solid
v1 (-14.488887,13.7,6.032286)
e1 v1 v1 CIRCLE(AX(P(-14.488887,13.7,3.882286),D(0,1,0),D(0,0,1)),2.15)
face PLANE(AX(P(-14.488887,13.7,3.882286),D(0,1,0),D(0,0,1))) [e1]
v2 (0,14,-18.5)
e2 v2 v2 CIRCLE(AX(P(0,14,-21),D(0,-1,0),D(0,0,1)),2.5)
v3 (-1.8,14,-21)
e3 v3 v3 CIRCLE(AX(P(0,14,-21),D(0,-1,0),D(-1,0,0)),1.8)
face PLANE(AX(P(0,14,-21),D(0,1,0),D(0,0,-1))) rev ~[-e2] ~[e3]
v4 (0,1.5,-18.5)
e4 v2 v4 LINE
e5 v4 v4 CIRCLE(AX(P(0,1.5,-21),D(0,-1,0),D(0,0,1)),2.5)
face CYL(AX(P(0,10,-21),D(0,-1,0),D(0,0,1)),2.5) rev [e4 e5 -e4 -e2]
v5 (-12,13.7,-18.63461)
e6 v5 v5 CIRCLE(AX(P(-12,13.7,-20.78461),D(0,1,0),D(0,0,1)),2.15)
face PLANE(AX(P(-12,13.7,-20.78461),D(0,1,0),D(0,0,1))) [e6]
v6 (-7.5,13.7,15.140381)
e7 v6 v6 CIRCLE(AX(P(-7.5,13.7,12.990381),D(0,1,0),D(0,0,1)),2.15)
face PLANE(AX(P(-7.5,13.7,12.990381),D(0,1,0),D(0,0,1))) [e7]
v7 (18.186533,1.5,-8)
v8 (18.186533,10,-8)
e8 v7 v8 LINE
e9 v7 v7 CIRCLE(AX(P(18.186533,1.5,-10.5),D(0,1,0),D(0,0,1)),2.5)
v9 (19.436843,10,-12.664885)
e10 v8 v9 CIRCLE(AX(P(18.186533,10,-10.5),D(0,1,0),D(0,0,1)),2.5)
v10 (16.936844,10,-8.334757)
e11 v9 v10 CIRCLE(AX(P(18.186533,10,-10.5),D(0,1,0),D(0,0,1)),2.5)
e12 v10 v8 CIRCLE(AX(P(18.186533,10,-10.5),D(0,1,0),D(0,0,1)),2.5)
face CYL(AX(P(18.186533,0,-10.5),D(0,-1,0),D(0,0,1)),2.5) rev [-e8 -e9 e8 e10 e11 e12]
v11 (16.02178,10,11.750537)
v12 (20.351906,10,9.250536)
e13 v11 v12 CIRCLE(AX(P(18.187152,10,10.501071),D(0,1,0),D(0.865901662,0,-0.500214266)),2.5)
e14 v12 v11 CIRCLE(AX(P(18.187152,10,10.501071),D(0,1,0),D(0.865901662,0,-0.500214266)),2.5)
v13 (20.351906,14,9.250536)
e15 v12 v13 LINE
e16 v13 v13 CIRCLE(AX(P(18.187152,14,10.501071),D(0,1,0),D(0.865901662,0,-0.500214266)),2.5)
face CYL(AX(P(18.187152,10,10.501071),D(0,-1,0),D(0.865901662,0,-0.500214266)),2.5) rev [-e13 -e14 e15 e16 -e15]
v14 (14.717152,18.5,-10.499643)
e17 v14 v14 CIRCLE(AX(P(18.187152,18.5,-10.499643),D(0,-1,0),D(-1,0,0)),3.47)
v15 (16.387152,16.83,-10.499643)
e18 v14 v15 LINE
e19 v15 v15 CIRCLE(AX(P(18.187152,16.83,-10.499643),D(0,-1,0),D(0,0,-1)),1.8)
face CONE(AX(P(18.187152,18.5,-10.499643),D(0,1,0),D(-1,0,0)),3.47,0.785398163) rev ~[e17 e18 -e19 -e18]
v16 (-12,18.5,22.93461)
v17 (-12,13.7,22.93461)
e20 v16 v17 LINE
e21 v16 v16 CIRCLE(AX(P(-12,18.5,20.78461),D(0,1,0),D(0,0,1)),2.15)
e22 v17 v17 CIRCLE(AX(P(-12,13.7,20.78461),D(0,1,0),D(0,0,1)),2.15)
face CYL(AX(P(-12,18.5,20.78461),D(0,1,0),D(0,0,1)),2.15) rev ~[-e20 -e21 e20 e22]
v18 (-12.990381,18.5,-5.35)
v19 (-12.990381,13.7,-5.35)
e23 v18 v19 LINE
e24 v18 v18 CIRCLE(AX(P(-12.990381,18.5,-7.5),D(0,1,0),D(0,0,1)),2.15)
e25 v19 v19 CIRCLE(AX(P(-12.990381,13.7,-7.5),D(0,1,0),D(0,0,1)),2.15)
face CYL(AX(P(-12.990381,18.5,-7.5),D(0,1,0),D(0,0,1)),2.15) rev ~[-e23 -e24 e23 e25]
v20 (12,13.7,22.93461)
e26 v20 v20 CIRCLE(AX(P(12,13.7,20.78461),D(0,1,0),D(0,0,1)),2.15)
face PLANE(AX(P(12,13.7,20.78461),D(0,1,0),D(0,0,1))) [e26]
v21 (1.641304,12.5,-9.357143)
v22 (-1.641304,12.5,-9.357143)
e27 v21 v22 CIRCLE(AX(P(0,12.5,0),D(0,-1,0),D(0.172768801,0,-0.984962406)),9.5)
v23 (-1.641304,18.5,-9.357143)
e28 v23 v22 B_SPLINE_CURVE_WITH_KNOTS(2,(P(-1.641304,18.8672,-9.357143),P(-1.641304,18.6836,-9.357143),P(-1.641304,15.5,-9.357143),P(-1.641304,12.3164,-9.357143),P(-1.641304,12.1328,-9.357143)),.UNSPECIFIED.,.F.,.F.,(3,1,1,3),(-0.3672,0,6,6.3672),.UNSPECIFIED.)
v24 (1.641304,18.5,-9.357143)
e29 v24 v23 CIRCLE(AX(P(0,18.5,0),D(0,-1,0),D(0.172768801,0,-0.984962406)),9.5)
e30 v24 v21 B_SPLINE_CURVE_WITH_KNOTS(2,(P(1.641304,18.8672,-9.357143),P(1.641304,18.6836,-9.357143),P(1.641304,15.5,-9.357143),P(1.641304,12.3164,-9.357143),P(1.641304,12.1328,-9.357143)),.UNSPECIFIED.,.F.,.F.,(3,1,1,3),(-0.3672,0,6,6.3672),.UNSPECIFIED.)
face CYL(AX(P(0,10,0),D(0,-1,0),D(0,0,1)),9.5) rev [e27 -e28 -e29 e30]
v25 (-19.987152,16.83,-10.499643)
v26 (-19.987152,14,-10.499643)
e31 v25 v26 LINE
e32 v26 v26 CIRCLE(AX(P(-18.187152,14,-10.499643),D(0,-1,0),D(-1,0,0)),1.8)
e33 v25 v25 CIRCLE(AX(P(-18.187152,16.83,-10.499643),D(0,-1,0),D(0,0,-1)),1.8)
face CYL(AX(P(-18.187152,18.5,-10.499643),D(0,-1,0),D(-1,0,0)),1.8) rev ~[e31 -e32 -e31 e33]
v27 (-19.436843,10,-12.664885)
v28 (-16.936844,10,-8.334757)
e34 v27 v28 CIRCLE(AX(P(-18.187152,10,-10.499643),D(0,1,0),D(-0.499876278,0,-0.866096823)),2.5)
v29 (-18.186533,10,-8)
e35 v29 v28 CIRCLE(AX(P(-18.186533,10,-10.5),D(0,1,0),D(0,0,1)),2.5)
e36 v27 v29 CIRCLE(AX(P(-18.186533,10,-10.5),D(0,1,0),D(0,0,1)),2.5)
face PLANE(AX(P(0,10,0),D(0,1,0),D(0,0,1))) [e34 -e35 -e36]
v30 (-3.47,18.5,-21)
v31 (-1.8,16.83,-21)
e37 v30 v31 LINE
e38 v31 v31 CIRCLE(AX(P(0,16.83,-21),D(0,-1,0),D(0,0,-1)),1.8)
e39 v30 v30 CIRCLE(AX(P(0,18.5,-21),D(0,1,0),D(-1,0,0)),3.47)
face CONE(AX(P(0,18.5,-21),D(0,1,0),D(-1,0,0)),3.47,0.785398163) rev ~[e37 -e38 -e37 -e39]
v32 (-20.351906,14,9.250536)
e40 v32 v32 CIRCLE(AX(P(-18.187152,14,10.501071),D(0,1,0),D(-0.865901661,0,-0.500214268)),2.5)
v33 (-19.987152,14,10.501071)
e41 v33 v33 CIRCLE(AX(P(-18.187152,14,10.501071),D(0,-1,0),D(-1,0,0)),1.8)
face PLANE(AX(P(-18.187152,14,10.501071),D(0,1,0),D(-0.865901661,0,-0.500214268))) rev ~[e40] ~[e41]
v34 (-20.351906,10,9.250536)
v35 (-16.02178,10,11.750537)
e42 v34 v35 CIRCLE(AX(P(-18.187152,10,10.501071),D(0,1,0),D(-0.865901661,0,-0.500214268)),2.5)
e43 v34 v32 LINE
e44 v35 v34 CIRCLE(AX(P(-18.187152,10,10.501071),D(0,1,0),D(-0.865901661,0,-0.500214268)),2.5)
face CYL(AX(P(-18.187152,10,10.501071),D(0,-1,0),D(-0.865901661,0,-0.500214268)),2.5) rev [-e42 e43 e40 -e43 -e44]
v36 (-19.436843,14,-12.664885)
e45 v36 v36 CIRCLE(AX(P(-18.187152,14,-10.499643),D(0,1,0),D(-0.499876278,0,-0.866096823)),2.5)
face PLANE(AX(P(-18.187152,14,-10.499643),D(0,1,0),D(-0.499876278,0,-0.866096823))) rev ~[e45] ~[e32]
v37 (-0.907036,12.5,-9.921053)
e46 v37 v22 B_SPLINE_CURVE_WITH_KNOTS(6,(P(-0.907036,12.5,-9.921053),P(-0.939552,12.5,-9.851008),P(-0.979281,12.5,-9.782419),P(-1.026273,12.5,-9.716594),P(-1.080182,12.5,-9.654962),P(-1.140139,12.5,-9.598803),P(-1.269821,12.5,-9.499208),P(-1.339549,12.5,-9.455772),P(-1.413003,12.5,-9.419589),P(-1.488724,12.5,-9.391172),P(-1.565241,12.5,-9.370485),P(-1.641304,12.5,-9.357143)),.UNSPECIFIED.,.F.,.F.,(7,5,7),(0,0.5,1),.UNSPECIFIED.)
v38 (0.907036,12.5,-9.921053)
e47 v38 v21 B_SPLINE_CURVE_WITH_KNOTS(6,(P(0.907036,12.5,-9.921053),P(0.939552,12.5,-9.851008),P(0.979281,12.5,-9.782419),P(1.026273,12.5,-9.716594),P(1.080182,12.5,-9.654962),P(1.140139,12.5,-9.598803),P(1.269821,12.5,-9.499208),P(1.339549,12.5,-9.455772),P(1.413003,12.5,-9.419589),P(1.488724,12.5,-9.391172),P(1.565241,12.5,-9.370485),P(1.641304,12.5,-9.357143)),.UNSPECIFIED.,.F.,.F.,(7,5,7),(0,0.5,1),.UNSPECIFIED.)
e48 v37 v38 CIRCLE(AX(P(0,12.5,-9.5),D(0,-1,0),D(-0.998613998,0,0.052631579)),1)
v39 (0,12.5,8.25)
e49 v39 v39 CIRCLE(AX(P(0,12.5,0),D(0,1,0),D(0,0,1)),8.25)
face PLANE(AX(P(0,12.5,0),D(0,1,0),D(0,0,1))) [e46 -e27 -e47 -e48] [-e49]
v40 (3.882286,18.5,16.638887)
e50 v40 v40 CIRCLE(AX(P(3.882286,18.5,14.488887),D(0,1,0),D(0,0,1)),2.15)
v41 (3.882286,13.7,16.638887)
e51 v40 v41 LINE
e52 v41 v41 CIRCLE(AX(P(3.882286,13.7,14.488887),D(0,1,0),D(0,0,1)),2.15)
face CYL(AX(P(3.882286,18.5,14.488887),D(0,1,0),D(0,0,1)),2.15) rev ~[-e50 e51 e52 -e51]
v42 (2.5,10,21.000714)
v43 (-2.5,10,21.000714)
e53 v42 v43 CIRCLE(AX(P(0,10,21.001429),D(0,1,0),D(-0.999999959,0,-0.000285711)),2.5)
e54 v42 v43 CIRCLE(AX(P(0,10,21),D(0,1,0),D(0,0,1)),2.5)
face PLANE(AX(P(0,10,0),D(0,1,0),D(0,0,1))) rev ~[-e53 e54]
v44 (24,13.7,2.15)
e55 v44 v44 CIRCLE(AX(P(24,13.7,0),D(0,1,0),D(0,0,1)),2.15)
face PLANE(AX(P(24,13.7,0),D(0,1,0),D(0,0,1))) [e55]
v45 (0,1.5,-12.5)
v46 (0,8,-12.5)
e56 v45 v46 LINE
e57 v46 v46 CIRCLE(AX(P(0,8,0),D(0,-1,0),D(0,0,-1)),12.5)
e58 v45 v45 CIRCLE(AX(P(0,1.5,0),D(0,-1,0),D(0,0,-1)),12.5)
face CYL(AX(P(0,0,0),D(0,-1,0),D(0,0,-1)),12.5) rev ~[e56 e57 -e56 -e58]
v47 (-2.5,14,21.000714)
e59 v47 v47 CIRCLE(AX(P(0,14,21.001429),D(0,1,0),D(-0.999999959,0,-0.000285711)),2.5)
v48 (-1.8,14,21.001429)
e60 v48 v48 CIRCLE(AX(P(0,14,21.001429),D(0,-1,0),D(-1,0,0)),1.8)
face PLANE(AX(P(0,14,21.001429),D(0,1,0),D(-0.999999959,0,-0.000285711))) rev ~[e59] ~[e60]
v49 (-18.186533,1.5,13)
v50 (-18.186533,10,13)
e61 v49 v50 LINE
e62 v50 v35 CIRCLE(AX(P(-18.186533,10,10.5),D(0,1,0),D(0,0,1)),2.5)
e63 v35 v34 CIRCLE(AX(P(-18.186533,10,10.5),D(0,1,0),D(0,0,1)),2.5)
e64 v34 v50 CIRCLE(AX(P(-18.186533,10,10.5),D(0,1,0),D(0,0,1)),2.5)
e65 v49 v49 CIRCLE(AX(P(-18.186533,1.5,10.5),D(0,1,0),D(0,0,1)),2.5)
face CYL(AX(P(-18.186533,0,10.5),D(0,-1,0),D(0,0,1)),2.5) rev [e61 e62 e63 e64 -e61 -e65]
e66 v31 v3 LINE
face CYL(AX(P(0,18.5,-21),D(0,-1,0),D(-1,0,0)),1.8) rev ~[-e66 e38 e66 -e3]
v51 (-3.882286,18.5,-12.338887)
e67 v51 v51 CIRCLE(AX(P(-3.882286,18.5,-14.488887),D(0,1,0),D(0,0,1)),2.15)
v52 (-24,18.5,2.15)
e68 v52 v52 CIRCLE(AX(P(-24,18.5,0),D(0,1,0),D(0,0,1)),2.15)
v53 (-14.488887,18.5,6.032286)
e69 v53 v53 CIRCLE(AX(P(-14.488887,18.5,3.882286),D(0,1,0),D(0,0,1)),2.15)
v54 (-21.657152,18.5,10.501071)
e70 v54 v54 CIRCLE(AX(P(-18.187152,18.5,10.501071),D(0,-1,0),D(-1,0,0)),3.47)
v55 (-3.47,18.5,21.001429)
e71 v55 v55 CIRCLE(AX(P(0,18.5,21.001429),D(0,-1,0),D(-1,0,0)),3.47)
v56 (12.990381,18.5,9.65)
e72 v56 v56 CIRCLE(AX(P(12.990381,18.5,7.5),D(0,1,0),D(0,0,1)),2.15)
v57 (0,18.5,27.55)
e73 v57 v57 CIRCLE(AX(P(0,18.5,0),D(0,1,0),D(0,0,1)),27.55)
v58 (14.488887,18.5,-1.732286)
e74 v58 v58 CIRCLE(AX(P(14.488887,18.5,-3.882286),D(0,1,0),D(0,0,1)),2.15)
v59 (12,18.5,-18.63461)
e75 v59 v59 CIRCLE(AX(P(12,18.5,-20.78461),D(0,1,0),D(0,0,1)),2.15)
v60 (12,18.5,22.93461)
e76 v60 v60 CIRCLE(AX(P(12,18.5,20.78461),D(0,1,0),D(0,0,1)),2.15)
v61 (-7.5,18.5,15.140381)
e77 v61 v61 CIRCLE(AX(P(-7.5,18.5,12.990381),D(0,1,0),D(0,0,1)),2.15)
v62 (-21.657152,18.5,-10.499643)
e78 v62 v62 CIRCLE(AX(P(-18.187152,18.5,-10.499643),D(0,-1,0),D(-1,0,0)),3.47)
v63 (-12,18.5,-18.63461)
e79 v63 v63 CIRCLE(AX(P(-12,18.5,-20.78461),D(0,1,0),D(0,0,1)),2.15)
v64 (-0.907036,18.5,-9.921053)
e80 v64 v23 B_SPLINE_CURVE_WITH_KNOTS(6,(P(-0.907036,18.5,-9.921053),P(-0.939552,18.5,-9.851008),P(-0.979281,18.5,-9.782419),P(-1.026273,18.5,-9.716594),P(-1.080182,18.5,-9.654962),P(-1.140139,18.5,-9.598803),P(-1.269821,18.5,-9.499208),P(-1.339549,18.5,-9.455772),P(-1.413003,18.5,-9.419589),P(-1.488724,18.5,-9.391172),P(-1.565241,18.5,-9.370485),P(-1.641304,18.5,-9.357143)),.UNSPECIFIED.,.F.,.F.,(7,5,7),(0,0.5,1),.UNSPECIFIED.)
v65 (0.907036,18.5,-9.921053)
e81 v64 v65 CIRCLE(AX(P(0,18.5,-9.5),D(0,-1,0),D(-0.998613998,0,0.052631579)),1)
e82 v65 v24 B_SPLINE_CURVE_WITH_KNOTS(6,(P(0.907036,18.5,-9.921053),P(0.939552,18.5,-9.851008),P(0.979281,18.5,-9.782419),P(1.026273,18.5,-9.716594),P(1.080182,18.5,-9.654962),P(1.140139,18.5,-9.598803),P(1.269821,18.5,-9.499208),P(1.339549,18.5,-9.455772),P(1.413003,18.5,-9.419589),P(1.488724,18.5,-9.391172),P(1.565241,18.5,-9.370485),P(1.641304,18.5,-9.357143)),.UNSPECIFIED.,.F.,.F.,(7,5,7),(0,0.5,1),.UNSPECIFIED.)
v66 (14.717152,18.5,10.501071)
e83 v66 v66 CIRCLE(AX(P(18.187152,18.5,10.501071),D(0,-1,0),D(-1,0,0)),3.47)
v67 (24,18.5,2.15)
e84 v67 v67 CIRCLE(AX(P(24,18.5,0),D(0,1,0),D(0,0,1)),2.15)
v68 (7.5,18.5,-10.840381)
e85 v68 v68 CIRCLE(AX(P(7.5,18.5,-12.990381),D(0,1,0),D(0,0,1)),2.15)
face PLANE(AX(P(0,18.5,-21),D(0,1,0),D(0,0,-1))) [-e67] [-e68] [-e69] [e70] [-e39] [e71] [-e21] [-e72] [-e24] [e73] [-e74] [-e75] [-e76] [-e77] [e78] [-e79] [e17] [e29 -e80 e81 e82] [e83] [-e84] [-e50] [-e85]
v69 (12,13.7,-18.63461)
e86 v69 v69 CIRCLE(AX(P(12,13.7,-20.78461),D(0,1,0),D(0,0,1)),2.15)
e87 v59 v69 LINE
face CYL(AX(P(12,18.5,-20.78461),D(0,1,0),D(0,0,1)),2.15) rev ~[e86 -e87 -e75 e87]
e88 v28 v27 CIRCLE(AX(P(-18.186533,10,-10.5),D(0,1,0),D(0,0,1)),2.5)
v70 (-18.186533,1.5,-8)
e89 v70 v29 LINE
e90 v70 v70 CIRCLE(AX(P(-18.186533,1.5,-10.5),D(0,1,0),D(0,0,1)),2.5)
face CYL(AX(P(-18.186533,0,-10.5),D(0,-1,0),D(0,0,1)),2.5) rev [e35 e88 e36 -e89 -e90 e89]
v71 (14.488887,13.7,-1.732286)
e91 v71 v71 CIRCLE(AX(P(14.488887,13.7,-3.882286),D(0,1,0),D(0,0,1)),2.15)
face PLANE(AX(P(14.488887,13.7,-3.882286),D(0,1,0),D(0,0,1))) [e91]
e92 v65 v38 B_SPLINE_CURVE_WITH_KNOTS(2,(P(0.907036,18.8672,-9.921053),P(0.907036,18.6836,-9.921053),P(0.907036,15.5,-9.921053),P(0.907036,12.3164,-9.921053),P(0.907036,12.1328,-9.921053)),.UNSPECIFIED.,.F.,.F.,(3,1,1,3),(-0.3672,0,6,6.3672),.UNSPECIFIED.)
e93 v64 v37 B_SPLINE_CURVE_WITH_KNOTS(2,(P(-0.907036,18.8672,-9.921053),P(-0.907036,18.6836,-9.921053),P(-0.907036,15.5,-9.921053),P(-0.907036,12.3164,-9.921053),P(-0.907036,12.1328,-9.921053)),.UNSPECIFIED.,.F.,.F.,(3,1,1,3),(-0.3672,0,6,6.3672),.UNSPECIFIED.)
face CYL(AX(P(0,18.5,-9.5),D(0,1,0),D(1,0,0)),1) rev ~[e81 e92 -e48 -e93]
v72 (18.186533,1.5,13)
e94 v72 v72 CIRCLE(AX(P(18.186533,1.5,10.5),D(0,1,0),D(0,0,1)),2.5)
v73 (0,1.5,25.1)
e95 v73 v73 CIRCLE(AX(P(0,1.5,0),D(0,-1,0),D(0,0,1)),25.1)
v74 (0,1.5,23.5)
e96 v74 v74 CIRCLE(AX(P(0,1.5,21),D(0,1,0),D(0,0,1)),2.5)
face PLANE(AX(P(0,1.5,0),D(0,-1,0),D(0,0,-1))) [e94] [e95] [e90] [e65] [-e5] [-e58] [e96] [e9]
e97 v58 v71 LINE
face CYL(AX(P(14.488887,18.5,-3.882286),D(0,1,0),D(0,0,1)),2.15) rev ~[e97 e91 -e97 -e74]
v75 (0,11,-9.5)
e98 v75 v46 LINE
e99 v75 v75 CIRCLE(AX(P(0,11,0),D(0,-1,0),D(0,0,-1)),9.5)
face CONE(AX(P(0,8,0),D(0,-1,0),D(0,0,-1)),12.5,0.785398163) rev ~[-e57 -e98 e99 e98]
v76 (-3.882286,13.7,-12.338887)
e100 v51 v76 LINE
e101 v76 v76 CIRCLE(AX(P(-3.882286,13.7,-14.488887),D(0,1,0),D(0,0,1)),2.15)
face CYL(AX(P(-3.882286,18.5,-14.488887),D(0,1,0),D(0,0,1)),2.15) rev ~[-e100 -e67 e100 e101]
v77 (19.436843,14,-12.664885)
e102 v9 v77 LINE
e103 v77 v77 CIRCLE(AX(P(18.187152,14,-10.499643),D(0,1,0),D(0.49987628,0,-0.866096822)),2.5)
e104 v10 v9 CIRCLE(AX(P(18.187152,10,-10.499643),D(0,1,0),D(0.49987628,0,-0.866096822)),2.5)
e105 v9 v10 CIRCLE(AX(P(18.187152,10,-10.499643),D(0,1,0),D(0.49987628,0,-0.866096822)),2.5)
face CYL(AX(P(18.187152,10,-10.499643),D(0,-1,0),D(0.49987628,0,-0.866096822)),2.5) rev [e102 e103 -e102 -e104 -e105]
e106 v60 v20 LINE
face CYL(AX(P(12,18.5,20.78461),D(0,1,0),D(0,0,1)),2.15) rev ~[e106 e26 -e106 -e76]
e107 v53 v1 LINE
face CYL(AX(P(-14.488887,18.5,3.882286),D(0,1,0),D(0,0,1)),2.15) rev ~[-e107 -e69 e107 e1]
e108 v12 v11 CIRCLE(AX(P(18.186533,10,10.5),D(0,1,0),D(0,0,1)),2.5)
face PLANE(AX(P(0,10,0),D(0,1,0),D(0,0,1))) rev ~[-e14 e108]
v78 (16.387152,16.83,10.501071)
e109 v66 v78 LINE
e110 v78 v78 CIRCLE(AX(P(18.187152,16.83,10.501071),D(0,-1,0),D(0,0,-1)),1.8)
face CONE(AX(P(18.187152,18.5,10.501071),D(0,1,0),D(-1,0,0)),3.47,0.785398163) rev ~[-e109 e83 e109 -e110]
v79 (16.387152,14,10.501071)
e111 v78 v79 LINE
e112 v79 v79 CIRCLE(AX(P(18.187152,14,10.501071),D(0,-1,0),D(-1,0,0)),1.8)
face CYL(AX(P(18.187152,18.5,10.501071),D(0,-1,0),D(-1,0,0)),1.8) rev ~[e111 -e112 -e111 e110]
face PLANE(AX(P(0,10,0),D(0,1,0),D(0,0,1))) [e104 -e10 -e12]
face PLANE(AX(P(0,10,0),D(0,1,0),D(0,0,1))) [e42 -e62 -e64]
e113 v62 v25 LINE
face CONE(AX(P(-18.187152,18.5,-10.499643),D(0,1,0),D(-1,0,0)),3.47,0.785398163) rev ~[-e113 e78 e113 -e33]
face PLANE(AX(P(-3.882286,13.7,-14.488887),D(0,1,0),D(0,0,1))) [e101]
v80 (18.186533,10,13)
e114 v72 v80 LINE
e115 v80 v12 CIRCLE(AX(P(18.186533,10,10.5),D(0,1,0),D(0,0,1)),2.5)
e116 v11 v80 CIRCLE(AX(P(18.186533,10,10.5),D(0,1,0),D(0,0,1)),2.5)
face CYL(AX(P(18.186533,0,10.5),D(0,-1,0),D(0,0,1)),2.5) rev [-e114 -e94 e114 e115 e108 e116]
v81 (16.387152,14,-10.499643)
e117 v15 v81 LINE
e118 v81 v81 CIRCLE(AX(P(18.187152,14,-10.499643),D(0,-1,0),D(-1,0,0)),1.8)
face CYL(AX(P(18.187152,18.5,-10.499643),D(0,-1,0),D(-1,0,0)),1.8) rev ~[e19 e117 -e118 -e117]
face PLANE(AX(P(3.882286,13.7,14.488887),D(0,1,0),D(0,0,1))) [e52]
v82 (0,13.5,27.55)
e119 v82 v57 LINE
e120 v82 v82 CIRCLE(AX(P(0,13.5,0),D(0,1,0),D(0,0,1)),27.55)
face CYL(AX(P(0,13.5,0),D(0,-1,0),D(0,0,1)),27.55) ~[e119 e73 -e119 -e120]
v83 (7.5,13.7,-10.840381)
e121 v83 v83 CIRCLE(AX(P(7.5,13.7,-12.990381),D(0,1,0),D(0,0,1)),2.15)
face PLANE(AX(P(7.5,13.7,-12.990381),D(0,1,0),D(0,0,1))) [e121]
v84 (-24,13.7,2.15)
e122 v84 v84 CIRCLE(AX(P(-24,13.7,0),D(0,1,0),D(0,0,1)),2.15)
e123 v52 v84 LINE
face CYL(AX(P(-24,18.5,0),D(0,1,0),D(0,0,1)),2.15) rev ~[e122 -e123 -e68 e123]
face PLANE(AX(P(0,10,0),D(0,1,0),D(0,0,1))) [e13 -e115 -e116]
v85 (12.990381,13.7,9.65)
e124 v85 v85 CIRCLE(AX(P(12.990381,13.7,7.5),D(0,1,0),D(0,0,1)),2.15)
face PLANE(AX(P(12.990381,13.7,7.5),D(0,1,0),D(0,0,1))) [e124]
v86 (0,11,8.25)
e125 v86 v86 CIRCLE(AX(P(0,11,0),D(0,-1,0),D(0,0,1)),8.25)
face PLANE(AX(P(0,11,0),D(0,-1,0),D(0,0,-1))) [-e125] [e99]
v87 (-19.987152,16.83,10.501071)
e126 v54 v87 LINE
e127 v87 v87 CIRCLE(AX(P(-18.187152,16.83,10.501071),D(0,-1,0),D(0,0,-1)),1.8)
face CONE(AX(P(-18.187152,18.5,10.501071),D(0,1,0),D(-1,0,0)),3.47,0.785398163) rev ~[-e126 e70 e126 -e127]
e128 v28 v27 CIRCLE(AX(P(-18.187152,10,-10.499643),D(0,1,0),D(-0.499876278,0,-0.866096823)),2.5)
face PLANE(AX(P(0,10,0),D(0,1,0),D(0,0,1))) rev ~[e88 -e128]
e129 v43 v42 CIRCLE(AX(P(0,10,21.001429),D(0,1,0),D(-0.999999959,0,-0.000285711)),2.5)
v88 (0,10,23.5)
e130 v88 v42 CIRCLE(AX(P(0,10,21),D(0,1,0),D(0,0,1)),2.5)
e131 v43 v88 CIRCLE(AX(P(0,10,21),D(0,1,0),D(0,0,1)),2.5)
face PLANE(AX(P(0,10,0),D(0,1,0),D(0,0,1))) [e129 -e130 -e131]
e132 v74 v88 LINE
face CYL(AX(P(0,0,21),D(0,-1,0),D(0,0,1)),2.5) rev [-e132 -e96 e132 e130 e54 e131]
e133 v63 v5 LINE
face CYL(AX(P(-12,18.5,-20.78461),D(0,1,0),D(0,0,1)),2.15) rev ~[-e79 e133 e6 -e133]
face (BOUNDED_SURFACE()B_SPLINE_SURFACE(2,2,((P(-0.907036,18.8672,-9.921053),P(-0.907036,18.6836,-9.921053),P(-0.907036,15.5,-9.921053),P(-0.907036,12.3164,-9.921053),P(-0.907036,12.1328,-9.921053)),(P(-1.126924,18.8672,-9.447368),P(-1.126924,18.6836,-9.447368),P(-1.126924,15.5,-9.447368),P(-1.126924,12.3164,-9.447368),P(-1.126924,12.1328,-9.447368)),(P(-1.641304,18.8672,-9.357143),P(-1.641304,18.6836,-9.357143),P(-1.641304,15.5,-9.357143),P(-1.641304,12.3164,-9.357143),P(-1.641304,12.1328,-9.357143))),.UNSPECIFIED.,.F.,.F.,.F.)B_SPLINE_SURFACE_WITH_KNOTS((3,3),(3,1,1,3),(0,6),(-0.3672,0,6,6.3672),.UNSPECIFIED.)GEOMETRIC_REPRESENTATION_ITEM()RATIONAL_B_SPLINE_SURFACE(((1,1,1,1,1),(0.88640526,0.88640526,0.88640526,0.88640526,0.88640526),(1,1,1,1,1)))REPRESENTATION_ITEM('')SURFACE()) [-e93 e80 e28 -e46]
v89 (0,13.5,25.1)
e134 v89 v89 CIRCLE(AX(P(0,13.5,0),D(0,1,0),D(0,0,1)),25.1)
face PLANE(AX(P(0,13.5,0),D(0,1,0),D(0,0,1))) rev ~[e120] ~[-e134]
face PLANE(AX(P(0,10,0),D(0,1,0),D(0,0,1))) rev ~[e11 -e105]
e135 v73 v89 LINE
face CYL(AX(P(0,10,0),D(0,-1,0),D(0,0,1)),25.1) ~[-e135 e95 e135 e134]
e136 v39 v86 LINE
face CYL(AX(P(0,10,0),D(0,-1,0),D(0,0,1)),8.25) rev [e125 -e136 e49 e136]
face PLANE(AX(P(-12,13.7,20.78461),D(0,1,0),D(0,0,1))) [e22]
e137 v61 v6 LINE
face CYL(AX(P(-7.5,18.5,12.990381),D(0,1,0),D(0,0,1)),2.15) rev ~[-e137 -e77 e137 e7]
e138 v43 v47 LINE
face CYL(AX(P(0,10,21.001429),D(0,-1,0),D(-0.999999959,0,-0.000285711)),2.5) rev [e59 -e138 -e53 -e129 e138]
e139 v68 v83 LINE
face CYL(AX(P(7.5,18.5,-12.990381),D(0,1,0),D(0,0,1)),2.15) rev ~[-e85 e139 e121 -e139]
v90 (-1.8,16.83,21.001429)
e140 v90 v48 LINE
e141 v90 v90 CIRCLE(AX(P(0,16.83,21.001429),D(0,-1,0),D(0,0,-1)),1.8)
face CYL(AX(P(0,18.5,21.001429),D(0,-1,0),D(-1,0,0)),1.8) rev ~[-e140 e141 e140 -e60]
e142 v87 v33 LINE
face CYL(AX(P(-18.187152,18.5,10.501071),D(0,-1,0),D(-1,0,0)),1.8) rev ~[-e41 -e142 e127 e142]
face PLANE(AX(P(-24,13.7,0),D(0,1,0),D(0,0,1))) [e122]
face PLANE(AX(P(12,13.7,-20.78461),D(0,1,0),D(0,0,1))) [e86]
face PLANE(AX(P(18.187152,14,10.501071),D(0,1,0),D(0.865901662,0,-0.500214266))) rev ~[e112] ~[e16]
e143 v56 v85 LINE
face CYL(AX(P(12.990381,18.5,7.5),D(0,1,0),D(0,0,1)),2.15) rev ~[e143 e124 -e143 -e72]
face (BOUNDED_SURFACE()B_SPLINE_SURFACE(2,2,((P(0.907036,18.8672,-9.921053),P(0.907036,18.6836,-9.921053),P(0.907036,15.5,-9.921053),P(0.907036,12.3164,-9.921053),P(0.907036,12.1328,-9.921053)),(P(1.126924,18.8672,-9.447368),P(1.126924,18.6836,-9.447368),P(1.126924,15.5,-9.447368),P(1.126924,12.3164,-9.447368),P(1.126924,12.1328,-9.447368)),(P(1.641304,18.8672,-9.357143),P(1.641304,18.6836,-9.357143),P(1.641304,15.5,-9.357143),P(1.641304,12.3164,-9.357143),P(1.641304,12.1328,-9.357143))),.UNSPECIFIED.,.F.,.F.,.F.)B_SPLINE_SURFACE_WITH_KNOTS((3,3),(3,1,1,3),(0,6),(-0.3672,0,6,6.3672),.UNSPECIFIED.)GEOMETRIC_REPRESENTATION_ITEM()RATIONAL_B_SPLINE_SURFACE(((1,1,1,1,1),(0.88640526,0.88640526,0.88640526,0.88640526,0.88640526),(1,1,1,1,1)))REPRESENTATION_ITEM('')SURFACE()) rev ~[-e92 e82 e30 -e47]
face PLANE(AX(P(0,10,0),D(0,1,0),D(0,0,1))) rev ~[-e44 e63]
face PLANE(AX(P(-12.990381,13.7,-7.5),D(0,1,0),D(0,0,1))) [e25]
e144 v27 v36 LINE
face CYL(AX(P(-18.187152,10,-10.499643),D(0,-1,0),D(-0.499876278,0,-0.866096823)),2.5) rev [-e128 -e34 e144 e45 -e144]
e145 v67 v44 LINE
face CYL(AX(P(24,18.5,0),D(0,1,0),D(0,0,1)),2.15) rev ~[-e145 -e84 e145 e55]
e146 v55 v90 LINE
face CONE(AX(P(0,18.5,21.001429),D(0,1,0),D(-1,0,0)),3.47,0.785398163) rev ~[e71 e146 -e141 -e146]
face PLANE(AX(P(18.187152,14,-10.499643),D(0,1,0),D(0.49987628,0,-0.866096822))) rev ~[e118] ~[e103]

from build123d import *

# Parameters (mm, degrees)
SKETCH1_R                                            = 25.1
SKETCH1_R_2                                          = 2.5
SKETCH1_R_3                                          = 8.25
BOSS_EXTRUDE1_DEPTH                                  = 10
SKETCH2_R                                            = 15.5
SKETCH2_R_2                                          = 9.5
BOSS_EXTRUDE2_DEPTH                                  = 8.5
SKETCH4_R                                            = 9.5
SKETCH4_R_2                                          = 8.25
BOSS_EXTRUDE3_DEPTH                                  = 2.5
SKETCH3_R                                            = 12.5
CUT_EXTRUDE1_DEPTH                                   = 11
CHAMFER1_SIZE                                        = 3
SKETCH5_R                                            = 25.1
SKETCH5_R_2                                          = 2.5
SKETCH5_R_3                                          = 15.5
BOSS_EXTRUDE4_DEPTH                                  = 8.5
BOSS_EXTRUDE5_START                                  = -5
SKETCH6_R                                            = 27.55
SKETCH6_R_2                                          = 25.1
BOSS_EXTRUDE5_DEPTH                                  = 5
SKETCH8_R                                            = 1
CUT_EXTRUDE2_DEPTH                                   = 6
FILLET1_R                                            = 1
SKETCH11_R                                           = 2.15
CUT_EXTRUDE3_DEPTH                                   = 4.8
SKETCH12_R                                           = 25.1
SKETCH12_R_2                                         = 2.5
SKETCH12_R_3                                         = 12.5
CUT_EXTRUDE4_DEPTH                                   = 1.5
BOSS_EXTRUDE8_START                                  = -4.5
SKETCH14_R                                           = 2.5
SKETCH14_R_2                                         = 1.5
BOSS_EXTRUDE8_DEPTH                                  = 4.5
CSK_FOR_M3_SOCKET_COUNTERSUNK_HEAD_SCREW_D           = 3.6
CSK_FOR_M3_SOCKET_COUNTERSUNK_HEAD_SCREW_CSINK_D     = 6.94
CSK_FOR_M3_SOCKET_COUNTERSUNK_HEAD_SCREW_CSINK_ANGLE = 90


with BuildPart() as part:
    # Sketch1 → Boss-Extrude1 (new body)
    with BuildSketch(Plane(origin=(0, 0, 0), x_dir=(1, 0, 0), z_dir=(0, 1, 0))):
        with Locations(Location((0, 0, 0), (0, 0, 270))):
            Circle(SKETCH1_R)
        with Locations(Location((0, 21, 0), (0, 0, 270))):
            Circle(SKETCH1_R_2, mode=Mode.SUBTRACT)
        with Locations(Location((18.186533479, 10.5, 0), (0, 0, 270))):
            Circle(SKETCH1_R_2, mode=Mode.SUBTRACT)
        with Locations(Location((18.186533479, -10.5, 0), (0, 0, 270))):
            Circle(SKETCH1_R_2, mode=Mode.SUBTRACT)
        with Locations(Location((0, -21, 0), (0, 0, 270))):
            Circle(SKETCH1_R_2, mode=Mode.SUBTRACT)
        with Locations(Location((-18.186533479, -10.5, 0), (0, 0, 270))):
            Circle(SKETCH1_R_2, mode=Mode.SUBTRACT)
        with Locations(Location((-18.186533479, 10.5, 0), (0, 0, 270))):
            Circle(SKETCH1_R_2, mode=Mode.SUBTRACT)
        with Locations(Location((0, 0, 0), (0, 0, 270))):
            Circle(SKETCH1_R_3, mode=Mode.SUBTRACT)
    extrude(amount=BOSS_EXTRUDE1_DEPTH)

    # Sketch2 → Boss-Extrude2 (add)
    with BuildSketch(Plane(origin=(0, 10, 0), x_dir=(1, 0, 0), z_dir=(0, 1, 0))):
        with Locations(Location((0, 0, 0), (0, 0, 270))):
            Circle(SKETCH2_R)
        with Locations(Location((0, 0, 0), (0, 0, 270))):
            Circle(SKETCH2_R_2, mode=Mode.SUBTRACT)
    extrude(amount=BOSS_EXTRUDE2_DEPTH)

    # Sketch4 → Boss-Extrude3 (add)
    with BuildSketch(Plane(origin=(0, 10, 0), x_dir=(1, 0, 0), z_dir=(0, 1, 0))):
        with Locations(Location((0, 0, 0), (0, 0, 270))):
            Circle(SKETCH4_R)
        with Locations(Location((0, 0, 0), (0, 0, 270))):
            Circle(SKETCH4_R_2, mode=Mode.SUBTRACT)
    extrude(amount=BOSS_EXTRUDE3_DEPTH)

    # Sketch3 → Cut-Extrude1 (cut)
    with BuildSketch(Plane.XZ):
        with Locations(Location((0, 0, 0), (0, 0, 270))):
            Circle(SKETCH3_R)
    extrude(amount=-CUT_EXTRUDE1_DEPTH, mode=Mode.SUBTRACT)

    # Chamfer1
    chamfer1_edges = [part.edges().sort_by_distance(p)[0] for p in [
        (0, 11, 12.5),
    ]]
    chamfer(chamfer1_edges, length=CHAMFER1_SIZE)

    # Sketch5 → Boss-Extrude4 (add)
    with BuildSketch(Plane(origin=(0, 10, 0), x_dir=(1, 0, 0), z_dir=(0, 1, 0))):
        with Locations(Location((0, 0, 0), (0, 0, 270))):
            Circle(SKETCH5_R)
        with Locations(Location((0, 21, 0), (0, 0, 270))):
            Circle(SKETCH5_R_2, mode=Mode.SUBTRACT)
        with Locations(Location((18.187152059, 10.499642863, 0), (0, 0, 60.008184899))):
            Circle(SKETCH5_R_2, mode=Mode.SUBTRACT)
        with Locations(Location((18.187152059, -10.50107141, 0), (0, 0, 30.014176717))):
            Circle(SKETCH5_R_2, mode=Mode.SUBTRACT)
        with Locations(Location((0, -21.001428547, 0), (0, 0, 179.983629985))):
            Circle(SKETCH5_R_2, mode=Mode.SUBTRACT)
        with Locations(Location((-18.187152059, -10.50107141, 0), (0, 0, 149.985823141))):
            Circle(SKETCH5_R_2, mode=Mode.SUBTRACT)
        with Locations(Location((-18.187152059, 10.499642863, 0), (0, 0, 119.991814957))):
            Circle(SKETCH5_R_2, mode=Mode.SUBTRACT)
        Circle(SKETCH5_R_3, mode=Mode.SUBTRACT)
    extrude(amount=BOSS_EXTRUDE4_DEPTH)

    # Sketch6 → Boss-Extrude5 (add)
    with BuildSketch(Plane(origin=(0, 18.5, 0), x_dir=(1, 0, 0), z_dir=(0, 1, 0)).offset(BOSS_EXTRUDE5_START)):
        with Locations(Location((0, 0, 0), (0, 0, 270))):
            Circle(SKETCH6_R)
        with Locations(Location((0, 0, 0), (0, 0, 270))):
            Circle(SKETCH6_R_2, mode=Mode.SUBTRACT)
    extrude(amount=BOSS_EXTRUDE5_DEPTH)

    # Sketch8 → Cut-Extrude2 (cut)
    with BuildSketch(Plane(origin=(0, 18.5, 0), x_dir=(1, 0, 0), z_dir=(0, 1, 0))):
        with Locations((0, 9.5)):
            Circle(SKETCH8_R)
    extrude(amount=-CUT_EXTRUDE2_DEPTH, mode=Mode.SUBTRACT)

    # Fillet1
    fillet1_edges = [part.edges().sort_by_distance(p)[0] for p in [
        (0.998613998, 15.5, -9.447368421),
        (-0.998613998, 15.5, -9.447368421),
    ]]
    fillet(fillet1_edges, radius=FILLET1_R)

    # Sketch11 → Cut-Extrude3 (cut)
    with BuildSketch(Plane(origin=(0, 18.5, 0), x_dir=(1, 0, 0), z_dir=(0, 1, 0))):
        with Locations(Location((7.5, 12.990381057, 0), (0, 0, 270))):
            Circle(SKETCH11_R)
        with Locations(Location((14.488887394, 3.882285677, 0), (0, 0, 270))):
            Circle(SKETCH11_R)
        with Locations(Location((12.990381057, -7.5, 0), (0, 0, 270))):
            Circle(SKETCH11_R)
        with Locations(Location((3.882285677, -14.488887394, 0), (0, 0, 270))):
            Circle(SKETCH11_R)
        with Locations(Location((-7.5, -12.990381057, 0), (0, 0, 270))):
            Circle(SKETCH11_R)
        with Locations(Location((-14.488887394, -3.882285677, 0), (0, 0, 270))):
            Circle(SKETCH11_R)
        with Locations(Location((-24, 0, 0), (0, 0, 270))):
            Circle(SKETCH11_R)
        with Locations(Location((-12, 20.784609691, 0), (0, 0, 270))):
            Circle(SKETCH11_R)
        with Locations(Location((12, 20.784609691, 0), (0, 0, 270))):
            Circle(SKETCH11_R)
        with Locations(Location((24, 0, 0), (0, 0, 270))):
            Circle(SKETCH11_R)
        with Locations(Location((12, -20.784609691, 0), (0, 0, 270))):
            Circle(SKETCH11_R)
        with Locations(Location((-12, -20.784609691, 0), (0, 0, 270))):
            Circle(SKETCH11_R)
        with Locations(Location((-12.990381057, 7.5, 0), (0, 0, 270))):
            Circle(SKETCH11_R)
        with Locations(Location((-3.882285677, 14.488887394, 0), (0, 0, 270))):
            Circle(SKETCH11_R)
    extrude(amount=-CUT_EXTRUDE3_DEPTH, mode=Mode.SUBTRACT)

    # Sketch12 → Cut-Extrude4 (cut)
    with BuildSketch(Plane.XZ):
        with Locations(Location((0, 0, 0), (0, 0, 270))):
            Circle(SKETCH12_R)
        with Locations(Location((18.186533479, 10.5, 0), (0, 0, 270))):
            Circle(SKETCH12_R_2, mode=Mode.SUBTRACT)
        with Locations(Location((18.186533479, -10.5, 0), (0, 0, 270))):
            Circle(SKETCH12_R_2, mode=Mode.SUBTRACT)
        with Locations(Location((0, -21, 0), (0, 0, 270))):
            Circle(SKETCH12_R_2, mode=Mode.SUBTRACT)
        with Locations(Location((-18.186533479, -10.5, 0), (0, 0, 270))):
            Circle(SKETCH12_R_2, mode=Mode.SUBTRACT)
        with Locations(Location((-18.186533479, 10.5, 0), (0, 0, 270))):
            Circle(SKETCH12_R_2, mode=Mode.SUBTRACT)
        with Locations(Location((0, 21, 0), (0, 0, 270))):
            Circle(SKETCH12_R_2, mode=Mode.SUBTRACT)
        with Locations(Location((0, 0, 0), (0, 0, 270))):
            Circle(SKETCH12_R_3, mode=Mode.SUBTRACT)
    extrude(amount=-CUT_EXTRUDE4_DEPTH, mode=Mode.SUBTRACT)

    # Sketch14 → Boss-Extrude8 (add)
    # profile 1 of 6: a face of its own
    with BuildSketch(Plane(origin=(0, 18.5, 0), x_dir=(1, 0, 0), z_dir=(0, 1, 0)).offset(BOSS_EXTRUDE8_START)):
        with Locations(Location((0, 21, 0), (0, 0, 90))):
            Circle(SKETCH14_R)
        with Locations(Location((0, 21, 0), (0, 0, 270))):
            Circle(SKETCH14_R_2, mode=Mode.SUBTRACT)
    # profile 2 of 6: a face of its own
    with BuildSketch(Plane(origin=(0, 18.5, 0), x_dir=(1, 0, 0), z_dir=(0, 1, 0)).offset(BOSS_EXTRUDE8_START)):
        with Locations(Location((18.187152059, 10.499642863, 0), (0, 0, 60.008184899))):
            Circle(SKETCH14_R)
        with Locations(Location((18.187152059, 10.499642863, 0), (0, 0, 270))):
            Circle(SKETCH14_R_2, mode=Mode.SUBTRACT)
    # profile 3 of 6: a face of its own
    with BuildSketch(Plane(origin=(0, 18.5, 0), x_dir=(1, 0, 0), z_dir=(0, 1, 0)).offset(BOSS_EXTRUDE8_START)):
        with Locations(Location((18.187152059, -10.50107141, 0), (0, 0, 30.014176717))):
            Circle(SKETCH14_R)
        with Locations(Location((18.187152059, -10.50107141, 0), (0, 0, 270))):
            Circle(SKETCH14_R_2, mode=Mode.SUBTRACT)
    # profile 4 of 6: a face of its own
    with BuildSketch(Plane(origin=(0, 18.5, 0), x_dir=(1, 0, 0), z_dir=(0, 1, 0)).offset(BOSS_EXTRUDE8_START)):
        with Locations(Location((0, -21.001428547, 0), (0, 0, 179.983629985))):
            Circle(SKETCH14_R)
        with Locations(Location((0, -21.001428547, 0), (0, 0, 270))):
            Circle(SKETCH14_R_2, mode=Mode.SUBTRACT)
    # profile 5 of 6: a face of its own
    with BuildSketch(Plane(origin=(0, 18.5, 0), x_dir=(1, 0, 0), z_dir=(0, 1, 0)).offset(BOSS_EXTRUDE8_START)):
        with Locations(Location((-18.187152059, -10.50107141, 0), (0, 0, 149.985823141))):
            Circle(SKETCH14_R)
        with Locations(Location((-18.187152059, -10.50107141, 0), (0, 0, 270))):
            Circle(SKETCH14_R_2, mode=Mode.SUBTRACT)
    # profile 6 of 6: a face of its own
    with BuildSketch(Plane(origin=(0, 18.5, 0), x_dir=(1, 0, 0), z_dir=(0, 1, 0)).offset(BOSS_EXTRUDE8_START)):
        with Locations(Location((-18.187152059, 10.499642863, 0), (0, 0, 119.991814957))):
            Circle(SKETCH14_R)
        with Locations(Location((-18.187152059, 10.499642863, 0), (0, 0, 270))):
            Circle(SKETCH14_R_2, mode=Mode.SUBTRACT)
    extrude(amount=BOSS_EXTRUDE8_DEPTH)

    # CSK for M3 socket countersunk head screw1 (through all)
    with Locations(Plane(origin=(0, 18.5, 0), x_dir=(1, 0, 0), z_dir=(0, 1, 0))):
        with Locations((0, 21), (18.187152059, 10.499642863), (18.187152059, -10.50107141), (0, -21.001428547), (-18.187152059, -10.50107141), (-18.187152059, 10.499642863)):
            CounterSinkHole(CSK_FOR_M3_SOCKET_COUNTERSUNK_HEAD_SCREW_D / 2, CSK_FOR_M3_SOCKET_COUNTERSUNK_HEAD_SCREW_CSINK_D / 2, counter_sink_angle=CSK_FOR_M3_SOCKET_COUNTERSUNK_HEAD_SCREW_CSINK_ANGLE)


solid = part.part
